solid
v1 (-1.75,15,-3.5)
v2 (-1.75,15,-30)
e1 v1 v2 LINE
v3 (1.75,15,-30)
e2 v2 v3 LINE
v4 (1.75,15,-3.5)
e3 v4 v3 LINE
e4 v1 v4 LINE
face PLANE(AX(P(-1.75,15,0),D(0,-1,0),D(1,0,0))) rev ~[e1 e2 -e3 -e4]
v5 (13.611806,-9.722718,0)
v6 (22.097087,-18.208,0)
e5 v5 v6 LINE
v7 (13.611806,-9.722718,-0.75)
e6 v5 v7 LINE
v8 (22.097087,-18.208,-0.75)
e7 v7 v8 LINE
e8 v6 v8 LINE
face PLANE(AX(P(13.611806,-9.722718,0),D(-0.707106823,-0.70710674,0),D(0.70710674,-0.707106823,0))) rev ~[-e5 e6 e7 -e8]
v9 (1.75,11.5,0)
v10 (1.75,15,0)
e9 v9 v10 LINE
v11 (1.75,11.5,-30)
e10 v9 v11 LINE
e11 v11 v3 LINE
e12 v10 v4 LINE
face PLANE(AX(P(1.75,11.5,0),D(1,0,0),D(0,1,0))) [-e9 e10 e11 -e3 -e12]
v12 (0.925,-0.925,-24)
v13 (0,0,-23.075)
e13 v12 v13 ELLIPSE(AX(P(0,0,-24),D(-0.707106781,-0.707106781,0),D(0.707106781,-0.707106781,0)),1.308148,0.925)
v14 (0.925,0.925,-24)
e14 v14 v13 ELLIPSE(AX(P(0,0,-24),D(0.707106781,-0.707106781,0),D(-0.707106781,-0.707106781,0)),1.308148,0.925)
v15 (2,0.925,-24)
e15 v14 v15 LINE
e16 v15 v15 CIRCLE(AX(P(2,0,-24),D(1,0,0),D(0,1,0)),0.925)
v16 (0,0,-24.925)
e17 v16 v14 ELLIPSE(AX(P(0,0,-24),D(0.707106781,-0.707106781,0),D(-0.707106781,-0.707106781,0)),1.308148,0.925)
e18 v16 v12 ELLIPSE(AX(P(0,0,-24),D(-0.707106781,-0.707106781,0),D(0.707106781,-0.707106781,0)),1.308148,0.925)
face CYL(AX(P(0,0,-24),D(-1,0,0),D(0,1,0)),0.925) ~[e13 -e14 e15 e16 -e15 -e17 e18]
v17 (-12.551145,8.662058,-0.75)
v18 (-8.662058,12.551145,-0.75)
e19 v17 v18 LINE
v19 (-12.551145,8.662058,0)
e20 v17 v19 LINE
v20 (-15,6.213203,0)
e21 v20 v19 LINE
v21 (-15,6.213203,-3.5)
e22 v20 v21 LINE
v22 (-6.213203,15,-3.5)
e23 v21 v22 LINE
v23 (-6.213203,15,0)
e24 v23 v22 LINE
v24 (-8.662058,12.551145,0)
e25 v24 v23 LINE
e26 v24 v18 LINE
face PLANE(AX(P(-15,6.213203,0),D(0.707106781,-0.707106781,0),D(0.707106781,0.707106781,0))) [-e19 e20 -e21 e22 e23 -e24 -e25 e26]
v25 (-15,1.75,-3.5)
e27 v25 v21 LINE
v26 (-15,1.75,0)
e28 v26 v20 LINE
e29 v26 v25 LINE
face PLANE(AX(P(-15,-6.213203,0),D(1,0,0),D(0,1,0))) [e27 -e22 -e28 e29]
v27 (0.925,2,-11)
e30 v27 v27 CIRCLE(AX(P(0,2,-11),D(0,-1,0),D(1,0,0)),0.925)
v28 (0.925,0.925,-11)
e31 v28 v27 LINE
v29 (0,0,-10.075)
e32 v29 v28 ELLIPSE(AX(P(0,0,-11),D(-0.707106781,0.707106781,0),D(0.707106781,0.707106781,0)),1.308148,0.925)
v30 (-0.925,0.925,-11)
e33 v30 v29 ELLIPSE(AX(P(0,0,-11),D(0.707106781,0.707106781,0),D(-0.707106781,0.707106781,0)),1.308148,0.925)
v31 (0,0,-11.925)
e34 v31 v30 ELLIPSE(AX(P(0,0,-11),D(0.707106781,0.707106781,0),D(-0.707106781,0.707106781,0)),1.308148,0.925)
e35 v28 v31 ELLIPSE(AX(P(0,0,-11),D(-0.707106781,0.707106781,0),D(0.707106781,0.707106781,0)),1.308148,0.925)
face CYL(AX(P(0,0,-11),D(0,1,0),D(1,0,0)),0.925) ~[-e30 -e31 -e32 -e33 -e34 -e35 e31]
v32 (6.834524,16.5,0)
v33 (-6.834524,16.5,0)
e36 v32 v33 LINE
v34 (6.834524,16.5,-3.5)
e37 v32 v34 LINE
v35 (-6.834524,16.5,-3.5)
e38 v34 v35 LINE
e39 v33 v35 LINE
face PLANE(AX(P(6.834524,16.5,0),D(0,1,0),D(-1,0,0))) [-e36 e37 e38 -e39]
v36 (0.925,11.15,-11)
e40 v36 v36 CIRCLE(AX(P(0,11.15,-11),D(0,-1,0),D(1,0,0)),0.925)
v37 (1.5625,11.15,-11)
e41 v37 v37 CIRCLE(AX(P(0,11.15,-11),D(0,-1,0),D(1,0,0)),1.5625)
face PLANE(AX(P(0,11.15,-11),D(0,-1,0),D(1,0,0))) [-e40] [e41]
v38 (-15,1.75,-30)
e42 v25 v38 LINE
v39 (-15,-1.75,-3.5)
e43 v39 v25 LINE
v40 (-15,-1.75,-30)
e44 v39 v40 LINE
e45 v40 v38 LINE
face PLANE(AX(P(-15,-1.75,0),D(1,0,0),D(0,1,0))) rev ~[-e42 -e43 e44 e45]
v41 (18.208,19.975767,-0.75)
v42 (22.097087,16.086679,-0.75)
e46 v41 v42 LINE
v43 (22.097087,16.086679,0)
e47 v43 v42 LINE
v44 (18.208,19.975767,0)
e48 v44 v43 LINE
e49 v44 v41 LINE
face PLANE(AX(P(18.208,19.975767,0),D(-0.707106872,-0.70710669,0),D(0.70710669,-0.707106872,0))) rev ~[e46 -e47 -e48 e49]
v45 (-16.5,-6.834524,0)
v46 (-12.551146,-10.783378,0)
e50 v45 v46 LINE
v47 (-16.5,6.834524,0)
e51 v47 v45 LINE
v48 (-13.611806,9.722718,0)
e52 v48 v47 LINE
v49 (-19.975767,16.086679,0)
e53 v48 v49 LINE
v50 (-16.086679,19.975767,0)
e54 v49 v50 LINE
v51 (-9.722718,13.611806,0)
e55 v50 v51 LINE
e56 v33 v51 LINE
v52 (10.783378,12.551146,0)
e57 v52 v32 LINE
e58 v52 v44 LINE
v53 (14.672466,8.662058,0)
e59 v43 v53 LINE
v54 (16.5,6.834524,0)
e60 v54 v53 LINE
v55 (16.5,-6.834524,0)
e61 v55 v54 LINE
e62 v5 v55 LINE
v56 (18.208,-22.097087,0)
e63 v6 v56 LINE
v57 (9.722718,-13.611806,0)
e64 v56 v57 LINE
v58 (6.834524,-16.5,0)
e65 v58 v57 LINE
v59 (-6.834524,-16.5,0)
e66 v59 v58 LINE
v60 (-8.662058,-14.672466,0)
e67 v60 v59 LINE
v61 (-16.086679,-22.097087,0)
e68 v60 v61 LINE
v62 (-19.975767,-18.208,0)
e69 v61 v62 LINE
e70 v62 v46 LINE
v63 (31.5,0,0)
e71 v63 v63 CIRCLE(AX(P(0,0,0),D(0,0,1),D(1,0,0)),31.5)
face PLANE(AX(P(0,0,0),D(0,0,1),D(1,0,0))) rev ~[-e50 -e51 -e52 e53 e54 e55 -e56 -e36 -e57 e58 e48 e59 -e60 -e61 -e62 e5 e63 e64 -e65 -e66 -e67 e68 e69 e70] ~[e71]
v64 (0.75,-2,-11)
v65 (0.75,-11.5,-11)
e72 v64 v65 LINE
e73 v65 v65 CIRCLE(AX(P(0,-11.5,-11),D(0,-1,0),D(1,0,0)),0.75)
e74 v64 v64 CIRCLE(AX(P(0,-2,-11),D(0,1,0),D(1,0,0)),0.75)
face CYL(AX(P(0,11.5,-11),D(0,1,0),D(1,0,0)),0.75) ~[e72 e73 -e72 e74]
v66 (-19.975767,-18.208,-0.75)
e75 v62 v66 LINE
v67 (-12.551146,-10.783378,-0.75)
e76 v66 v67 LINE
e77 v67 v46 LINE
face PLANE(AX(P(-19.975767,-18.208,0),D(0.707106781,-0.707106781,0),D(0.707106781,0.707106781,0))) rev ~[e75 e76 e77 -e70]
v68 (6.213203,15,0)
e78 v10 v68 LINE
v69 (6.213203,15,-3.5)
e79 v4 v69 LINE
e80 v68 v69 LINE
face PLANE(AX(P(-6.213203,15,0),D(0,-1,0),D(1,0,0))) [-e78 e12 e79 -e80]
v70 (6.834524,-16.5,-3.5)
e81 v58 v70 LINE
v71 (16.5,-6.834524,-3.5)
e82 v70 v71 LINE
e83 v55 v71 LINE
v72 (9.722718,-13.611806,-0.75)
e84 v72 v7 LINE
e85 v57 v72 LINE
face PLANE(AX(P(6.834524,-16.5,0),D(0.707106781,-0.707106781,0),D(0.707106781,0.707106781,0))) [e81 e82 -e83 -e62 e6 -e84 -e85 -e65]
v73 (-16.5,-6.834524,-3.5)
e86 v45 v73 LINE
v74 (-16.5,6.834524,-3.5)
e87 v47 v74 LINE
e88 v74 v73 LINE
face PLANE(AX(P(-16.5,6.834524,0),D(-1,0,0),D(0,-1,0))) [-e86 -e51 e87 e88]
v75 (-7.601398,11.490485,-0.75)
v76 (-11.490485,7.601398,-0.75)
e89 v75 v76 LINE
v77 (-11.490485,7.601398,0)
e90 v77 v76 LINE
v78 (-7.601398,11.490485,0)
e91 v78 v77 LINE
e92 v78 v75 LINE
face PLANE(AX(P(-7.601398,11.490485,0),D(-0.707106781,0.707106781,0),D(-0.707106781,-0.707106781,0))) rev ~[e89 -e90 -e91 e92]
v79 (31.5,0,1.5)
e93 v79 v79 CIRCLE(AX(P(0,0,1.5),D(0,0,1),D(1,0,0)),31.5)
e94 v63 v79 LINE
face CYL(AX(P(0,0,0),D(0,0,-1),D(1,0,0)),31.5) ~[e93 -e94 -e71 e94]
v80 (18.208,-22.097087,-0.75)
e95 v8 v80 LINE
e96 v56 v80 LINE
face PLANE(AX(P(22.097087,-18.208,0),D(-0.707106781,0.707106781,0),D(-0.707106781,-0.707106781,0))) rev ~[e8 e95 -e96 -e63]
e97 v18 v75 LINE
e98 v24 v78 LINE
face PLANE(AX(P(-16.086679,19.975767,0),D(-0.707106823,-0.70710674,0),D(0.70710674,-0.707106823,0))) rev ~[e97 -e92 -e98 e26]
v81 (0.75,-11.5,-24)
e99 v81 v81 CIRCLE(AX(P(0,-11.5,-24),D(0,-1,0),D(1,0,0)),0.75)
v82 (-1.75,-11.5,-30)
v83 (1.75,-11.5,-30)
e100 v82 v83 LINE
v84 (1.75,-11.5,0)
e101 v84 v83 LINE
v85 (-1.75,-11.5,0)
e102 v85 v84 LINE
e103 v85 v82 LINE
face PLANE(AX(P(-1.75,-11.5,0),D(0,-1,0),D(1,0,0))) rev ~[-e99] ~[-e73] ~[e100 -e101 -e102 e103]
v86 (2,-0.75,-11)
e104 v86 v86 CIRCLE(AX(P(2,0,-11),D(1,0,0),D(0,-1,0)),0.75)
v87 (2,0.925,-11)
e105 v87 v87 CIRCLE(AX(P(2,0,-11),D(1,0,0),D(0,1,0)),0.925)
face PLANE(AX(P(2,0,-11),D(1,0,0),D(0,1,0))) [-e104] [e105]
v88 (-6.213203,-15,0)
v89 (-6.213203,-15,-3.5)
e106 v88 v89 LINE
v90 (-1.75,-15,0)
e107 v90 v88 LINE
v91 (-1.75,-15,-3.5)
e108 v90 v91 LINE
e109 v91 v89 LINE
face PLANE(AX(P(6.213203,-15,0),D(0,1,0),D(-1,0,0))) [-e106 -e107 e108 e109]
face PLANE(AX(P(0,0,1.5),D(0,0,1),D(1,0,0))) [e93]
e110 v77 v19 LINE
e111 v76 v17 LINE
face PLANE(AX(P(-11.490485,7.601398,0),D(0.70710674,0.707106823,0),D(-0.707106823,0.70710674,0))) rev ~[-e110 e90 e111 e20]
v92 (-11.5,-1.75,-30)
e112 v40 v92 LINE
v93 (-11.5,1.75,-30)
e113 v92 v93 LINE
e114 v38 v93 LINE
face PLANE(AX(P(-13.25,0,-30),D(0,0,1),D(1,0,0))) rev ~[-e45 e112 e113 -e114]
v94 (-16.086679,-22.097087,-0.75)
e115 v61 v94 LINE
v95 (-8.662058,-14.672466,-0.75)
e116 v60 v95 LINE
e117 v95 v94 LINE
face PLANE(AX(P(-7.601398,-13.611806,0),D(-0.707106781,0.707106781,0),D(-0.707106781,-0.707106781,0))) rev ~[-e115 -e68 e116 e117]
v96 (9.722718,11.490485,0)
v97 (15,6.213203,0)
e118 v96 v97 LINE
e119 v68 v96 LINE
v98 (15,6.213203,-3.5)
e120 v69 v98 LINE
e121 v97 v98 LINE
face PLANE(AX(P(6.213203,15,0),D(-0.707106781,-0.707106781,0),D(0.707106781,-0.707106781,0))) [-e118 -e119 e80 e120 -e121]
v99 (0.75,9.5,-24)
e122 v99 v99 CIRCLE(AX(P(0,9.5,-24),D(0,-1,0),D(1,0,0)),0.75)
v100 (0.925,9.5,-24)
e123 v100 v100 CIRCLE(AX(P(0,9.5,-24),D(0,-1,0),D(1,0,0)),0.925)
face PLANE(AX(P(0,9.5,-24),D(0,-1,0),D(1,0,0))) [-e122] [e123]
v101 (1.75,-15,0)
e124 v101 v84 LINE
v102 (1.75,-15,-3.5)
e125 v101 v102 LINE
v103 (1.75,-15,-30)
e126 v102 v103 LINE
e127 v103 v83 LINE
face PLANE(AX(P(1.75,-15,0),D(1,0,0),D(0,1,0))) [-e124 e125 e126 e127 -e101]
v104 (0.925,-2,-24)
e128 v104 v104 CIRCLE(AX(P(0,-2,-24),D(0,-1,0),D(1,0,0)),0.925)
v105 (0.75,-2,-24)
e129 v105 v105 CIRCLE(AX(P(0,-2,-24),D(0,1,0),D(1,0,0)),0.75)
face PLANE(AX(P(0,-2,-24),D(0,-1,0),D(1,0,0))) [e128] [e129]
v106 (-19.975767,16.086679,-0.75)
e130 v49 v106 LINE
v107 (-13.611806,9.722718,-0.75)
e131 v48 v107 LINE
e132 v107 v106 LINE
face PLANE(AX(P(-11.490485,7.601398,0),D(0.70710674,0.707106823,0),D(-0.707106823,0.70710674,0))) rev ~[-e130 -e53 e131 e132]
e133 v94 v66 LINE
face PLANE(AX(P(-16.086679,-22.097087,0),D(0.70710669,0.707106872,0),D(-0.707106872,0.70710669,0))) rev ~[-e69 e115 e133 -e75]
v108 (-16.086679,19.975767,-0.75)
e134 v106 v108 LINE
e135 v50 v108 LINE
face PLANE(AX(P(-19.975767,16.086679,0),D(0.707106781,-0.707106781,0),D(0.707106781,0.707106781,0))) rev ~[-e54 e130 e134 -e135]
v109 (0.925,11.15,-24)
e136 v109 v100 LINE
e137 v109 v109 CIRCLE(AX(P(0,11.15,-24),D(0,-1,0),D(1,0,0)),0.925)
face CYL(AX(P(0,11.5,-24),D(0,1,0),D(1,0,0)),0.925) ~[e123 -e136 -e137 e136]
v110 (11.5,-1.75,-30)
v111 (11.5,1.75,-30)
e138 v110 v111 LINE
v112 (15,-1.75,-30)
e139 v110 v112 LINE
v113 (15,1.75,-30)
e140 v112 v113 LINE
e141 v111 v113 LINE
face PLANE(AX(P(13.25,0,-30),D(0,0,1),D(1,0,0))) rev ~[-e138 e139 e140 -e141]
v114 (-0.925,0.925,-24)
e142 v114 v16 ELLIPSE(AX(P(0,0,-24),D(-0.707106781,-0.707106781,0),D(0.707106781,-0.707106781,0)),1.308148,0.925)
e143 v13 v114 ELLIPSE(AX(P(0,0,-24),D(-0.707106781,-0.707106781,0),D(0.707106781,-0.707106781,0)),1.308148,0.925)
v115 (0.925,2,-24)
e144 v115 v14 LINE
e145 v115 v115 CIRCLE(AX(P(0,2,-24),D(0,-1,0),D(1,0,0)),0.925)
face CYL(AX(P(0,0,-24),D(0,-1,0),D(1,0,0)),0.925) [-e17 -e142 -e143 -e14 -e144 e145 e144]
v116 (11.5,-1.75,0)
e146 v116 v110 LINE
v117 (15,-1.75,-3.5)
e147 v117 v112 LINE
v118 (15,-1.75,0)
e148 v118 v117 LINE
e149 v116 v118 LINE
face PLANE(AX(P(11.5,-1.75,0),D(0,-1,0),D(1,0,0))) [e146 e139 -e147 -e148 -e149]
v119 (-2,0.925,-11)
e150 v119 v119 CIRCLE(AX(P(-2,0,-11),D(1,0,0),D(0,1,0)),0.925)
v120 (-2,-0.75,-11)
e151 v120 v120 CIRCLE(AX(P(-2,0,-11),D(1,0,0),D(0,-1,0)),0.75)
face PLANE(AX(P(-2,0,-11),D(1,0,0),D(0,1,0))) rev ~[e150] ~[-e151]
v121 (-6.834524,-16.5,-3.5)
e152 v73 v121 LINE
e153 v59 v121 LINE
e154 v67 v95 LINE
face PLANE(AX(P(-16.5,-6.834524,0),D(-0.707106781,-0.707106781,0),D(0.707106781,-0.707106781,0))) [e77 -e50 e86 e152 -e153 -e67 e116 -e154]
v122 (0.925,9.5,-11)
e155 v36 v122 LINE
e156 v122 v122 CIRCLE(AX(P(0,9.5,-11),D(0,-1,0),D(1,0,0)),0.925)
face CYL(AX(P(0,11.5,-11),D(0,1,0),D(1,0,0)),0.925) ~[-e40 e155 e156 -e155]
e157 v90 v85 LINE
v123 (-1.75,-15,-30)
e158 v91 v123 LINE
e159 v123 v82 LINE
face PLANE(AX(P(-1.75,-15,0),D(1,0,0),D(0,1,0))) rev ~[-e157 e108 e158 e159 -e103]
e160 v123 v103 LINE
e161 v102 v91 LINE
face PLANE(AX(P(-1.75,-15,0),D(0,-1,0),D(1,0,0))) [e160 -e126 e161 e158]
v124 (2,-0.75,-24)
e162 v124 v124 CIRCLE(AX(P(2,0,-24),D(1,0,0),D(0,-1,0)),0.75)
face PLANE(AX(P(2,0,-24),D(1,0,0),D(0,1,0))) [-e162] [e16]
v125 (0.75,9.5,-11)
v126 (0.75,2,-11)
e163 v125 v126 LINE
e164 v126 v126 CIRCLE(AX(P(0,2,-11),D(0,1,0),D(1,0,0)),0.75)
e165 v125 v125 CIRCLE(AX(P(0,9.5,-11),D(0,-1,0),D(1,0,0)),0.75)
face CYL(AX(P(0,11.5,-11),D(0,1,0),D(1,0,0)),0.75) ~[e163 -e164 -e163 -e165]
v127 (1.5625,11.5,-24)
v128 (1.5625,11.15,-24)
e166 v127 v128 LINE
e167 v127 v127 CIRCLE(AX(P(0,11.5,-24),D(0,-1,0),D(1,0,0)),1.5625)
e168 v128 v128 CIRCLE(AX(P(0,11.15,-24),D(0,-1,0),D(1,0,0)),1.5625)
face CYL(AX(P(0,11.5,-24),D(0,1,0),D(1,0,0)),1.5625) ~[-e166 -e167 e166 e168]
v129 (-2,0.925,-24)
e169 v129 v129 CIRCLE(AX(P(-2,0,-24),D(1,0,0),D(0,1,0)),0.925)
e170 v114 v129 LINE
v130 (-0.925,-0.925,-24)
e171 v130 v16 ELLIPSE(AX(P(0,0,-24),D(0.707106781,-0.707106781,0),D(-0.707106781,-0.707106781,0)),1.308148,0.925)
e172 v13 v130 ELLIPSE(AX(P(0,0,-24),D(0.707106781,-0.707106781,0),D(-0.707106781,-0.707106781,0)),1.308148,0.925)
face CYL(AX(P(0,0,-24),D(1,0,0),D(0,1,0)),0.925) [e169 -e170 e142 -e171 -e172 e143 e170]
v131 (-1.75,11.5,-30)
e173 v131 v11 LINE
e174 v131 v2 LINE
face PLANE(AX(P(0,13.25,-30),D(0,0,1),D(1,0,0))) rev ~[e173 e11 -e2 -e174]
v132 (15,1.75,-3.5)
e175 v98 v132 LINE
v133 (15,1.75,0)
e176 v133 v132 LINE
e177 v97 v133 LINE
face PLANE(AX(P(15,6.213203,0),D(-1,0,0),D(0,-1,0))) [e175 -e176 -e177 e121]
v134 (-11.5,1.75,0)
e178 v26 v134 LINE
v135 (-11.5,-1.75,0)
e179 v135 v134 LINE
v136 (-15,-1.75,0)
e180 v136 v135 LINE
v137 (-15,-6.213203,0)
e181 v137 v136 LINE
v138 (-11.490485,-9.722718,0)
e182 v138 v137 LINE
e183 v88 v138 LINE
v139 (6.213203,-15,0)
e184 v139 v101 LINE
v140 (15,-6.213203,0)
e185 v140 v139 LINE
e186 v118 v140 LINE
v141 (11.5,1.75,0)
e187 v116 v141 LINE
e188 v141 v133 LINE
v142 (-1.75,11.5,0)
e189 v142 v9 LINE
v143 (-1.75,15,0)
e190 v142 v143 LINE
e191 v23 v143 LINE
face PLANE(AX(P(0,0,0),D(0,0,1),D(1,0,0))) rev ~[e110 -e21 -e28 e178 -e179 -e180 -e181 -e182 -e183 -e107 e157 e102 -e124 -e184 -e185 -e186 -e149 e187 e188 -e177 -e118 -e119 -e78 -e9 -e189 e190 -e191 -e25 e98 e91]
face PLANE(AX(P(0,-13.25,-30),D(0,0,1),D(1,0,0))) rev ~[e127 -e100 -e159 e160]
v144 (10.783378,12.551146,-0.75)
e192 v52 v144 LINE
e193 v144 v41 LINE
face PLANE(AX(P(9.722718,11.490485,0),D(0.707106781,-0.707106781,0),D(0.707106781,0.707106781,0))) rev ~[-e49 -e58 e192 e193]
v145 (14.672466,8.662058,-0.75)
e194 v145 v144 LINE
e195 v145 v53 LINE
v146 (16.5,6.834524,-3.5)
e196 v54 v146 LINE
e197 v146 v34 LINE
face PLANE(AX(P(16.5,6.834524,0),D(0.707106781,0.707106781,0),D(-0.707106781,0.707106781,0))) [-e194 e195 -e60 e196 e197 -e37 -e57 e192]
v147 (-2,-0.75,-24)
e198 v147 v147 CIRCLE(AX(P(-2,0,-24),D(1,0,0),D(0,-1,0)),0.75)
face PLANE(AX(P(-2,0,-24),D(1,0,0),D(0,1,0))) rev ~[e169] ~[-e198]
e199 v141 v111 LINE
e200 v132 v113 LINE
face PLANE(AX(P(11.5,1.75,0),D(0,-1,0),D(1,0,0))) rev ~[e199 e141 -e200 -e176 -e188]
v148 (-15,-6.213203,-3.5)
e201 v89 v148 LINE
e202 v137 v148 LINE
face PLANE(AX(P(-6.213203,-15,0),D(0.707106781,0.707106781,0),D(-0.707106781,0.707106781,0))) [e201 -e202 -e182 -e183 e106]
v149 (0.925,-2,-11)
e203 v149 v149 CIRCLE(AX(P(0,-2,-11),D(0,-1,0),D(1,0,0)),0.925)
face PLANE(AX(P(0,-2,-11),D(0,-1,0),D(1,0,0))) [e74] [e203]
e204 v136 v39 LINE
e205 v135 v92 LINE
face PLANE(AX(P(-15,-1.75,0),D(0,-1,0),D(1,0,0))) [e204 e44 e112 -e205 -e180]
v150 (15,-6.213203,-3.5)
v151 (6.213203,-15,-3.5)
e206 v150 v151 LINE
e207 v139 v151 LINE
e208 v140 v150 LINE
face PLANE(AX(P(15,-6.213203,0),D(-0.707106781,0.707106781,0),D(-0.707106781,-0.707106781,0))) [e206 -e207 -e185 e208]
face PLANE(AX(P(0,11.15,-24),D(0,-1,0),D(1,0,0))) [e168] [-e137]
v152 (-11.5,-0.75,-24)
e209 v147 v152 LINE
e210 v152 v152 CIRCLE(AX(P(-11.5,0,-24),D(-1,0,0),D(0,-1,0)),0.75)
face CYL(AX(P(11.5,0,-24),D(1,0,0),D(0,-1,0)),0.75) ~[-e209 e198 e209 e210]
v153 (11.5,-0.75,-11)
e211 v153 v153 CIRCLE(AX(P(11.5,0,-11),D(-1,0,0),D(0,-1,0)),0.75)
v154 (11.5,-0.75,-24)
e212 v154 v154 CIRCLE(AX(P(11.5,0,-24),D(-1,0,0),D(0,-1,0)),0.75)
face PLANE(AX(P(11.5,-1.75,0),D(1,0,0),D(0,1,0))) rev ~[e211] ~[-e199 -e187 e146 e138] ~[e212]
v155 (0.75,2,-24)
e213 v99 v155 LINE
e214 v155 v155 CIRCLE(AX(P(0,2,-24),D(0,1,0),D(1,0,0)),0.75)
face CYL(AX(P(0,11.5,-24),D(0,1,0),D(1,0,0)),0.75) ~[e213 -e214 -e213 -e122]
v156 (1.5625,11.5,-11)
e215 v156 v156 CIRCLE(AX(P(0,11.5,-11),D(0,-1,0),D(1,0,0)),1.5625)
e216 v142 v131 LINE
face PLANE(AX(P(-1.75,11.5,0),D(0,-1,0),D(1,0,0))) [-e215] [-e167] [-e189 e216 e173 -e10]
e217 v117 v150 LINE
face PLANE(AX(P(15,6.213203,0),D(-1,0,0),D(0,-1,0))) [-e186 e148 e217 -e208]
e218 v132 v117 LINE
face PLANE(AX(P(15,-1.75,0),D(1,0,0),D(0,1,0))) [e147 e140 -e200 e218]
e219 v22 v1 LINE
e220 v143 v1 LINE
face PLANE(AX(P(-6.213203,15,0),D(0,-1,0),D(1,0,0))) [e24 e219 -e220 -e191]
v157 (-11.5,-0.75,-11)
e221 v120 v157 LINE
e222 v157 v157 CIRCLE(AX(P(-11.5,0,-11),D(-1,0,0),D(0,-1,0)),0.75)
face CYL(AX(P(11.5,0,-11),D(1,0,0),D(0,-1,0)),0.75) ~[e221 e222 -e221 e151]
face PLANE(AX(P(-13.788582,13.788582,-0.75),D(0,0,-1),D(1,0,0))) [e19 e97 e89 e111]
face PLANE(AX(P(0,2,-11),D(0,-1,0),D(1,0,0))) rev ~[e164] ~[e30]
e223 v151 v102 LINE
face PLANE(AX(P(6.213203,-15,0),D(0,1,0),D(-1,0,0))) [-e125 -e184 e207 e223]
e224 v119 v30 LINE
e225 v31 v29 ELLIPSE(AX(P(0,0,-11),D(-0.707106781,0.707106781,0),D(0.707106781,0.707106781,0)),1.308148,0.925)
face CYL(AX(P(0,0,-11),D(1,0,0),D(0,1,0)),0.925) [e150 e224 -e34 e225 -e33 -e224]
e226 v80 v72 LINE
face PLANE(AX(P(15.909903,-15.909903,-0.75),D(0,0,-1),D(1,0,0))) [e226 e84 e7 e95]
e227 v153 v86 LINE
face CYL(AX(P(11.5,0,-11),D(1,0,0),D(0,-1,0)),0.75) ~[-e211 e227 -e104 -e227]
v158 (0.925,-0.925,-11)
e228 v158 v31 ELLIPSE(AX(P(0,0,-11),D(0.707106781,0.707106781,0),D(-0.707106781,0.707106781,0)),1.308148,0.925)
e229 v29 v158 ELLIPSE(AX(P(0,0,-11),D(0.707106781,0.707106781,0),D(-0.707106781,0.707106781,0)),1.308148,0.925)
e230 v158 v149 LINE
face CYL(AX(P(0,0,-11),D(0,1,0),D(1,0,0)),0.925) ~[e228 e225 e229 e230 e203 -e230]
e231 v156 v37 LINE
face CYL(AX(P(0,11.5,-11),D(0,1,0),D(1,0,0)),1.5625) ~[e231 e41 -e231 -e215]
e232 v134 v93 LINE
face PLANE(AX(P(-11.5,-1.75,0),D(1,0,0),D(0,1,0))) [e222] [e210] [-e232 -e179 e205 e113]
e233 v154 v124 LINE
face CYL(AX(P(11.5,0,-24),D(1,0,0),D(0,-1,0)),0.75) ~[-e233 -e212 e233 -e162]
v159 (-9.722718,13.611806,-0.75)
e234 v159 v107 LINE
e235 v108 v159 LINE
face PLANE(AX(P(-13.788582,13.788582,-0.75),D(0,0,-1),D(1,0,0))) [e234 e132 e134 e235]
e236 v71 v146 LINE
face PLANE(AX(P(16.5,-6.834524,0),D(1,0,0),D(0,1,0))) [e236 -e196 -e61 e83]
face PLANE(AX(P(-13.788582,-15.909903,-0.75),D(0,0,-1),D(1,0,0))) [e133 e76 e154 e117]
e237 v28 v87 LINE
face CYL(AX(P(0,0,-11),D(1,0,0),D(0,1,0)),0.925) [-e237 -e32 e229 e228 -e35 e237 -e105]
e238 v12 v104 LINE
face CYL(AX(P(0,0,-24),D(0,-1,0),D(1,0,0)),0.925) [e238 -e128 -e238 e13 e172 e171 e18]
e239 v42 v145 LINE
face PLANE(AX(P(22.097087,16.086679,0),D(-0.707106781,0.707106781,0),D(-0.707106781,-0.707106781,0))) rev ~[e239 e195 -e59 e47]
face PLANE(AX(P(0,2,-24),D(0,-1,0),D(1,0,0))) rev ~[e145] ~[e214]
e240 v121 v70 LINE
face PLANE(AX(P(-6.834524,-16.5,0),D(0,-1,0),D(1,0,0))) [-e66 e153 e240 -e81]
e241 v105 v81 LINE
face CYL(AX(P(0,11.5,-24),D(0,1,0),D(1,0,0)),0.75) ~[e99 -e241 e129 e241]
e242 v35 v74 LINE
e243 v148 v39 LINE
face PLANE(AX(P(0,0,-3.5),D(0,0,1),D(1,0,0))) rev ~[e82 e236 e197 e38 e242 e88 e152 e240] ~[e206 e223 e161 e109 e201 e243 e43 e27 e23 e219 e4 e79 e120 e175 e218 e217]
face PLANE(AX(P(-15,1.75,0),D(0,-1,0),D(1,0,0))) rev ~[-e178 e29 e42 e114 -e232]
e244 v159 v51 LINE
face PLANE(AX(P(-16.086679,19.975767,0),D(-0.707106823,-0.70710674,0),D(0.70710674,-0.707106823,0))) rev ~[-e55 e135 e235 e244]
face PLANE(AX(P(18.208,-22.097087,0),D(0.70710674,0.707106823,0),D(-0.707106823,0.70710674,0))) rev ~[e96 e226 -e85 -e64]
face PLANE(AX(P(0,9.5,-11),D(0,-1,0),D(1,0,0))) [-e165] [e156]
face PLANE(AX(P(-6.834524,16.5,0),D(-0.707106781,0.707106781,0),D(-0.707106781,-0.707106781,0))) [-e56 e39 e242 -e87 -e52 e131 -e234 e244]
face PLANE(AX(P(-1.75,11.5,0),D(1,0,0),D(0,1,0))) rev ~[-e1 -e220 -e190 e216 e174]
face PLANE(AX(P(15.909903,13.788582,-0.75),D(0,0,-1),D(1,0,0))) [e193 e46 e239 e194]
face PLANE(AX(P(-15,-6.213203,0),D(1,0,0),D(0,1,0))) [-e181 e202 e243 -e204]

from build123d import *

# Parameters (mm, degrees)
F0_R      = 31.5
F1_DEPTH  = 1.5
F3_DEPTH  = 3.5
F4_W      = 3.5
F4_H      = 3.5
F5_DEPTH  = 30
F6_R      = 0.75
F7_DEPTH  = 23
F8_R      = 0.75
F9_DEPTH  = 23
F10_R     = 0.925
F11_DEPTH = 2
F12_R     = 0.925
F13_DEPTH = 2
F6_R_2    = 0.925
F14_DEPTH = 2
F6_R_3    = 1.5625
F15_DEPTH = 0.35
F17_DEPTH = 0.75


with BuildPart() as f1:
    # F0 (on Top) → F1 (new body)
    with BuildSketch(Plane.XY):
        Circle(F0_R)
    extrude(amount=F1_DEPTH)

    # F2 (on Top) → F3 (join)
    with BuildSketch(Plane.XY):
        Polygon((-6.834524, 16.5), (-16.5, 6.834524), (-16.5, -6.834524), (-6.834524, -16.5), (6.834524, -16.5), (16.5, -6.834524), (16.5, 6.834524), (6.834524, 16.5), align=None)
        Polygon((6.213203, -15), (-6.213203, -15), (-15, -6.213203), (-15, 6.213203), (-6.213203, 15), (6.213203, 15), (15, 6.213203), (15, -6.213203), align=None, mode=Mode.SUBTRACT)
    extrude(amount=-F3_DEPTH)

    # F4 (on Top) → F5 (join)
    with BuildSketch(Plane.XY):
        with Locations((0, -13.25)):
            Rectangle(F4_W, F4_H)
        with Locations((13.25, 0)):
            Rectangle(F4_W, F4_H)
        with Locations((0, 13.25)):
            Rectangle(F4_W, F4_H)
        with Locations((-13.25, 0)):
            Rectangle(F4_W, F4_H)
    extrude(amount=-F5_DEPTH)

    # F6 (on face) → F7 (join, through all)
    with BuildSketch(Plane.XZ.offset(-11.5)):
        with Locations((0, -11)):
            Circle(F6_R)
        with Locations((0, -24)):
            Circle(F6_R)
    extrude(amount=F7_DEPTH)

    # F8 (on face) → F9 (join, through all)
    with BuildSketch(Plane(origin=(11.5, 0, 0), x_dir=(0, -1, 0), z_dir=(-1, 0, 0))):
        with Locations((0, -24)):
            Circle(F8_R)
        with Locations((0, -11)):
            Circle(F8_R)
    extrude(amount=F9_DEPTH)

    # F10 (on Front) → F11 (join, symmetric)
    with BuildSketch(Plane.XZ):
        with Locations((0, -11)):
            Circle(F10_R)
        with Locations((0, -24)):
            Circle(F10_R)
    extrude(amount=F11_DEPTH, both=True)

    # F12 (on Right) → F13 (join, symmetric)
    with BuildSketch(Plane.YZ):
        with Locations((0, -24)):
            Circle(F12_R)
        with Locations((0, -11)):
            Circle(F12_R)
    extrude(amount=F13_DEPTH, both=True)

    # F6 (on face) → F14 (join)
    with BuildSketch(Plane.XZ.offset(-11.5)):
        with Locations((0, -24)):
            Circle(F6_R_2)
        with Locations((0, -24)):
            Circle(F6_R, mode=Mode.SUBTRACT)
        with Locations((0, -11)):
            Circle(F6_R_2)
        with Locations((0, -11)):
            Circle(F6_R, mode=Mode.SUBTRACT)
    extrude(amount=F14_DEPTH)

    # F6 (on face) → F15 (join)
    with BuildSketch(Plane.XZ.offset(-11.5)):
        with Locations((0, -24)):
            Circle(F6_R_3)
        with Locations((0, -24)):
            Circle(F6_R_2, mode=Mode.SUBTRACT)
        with Locations((0, -11)):
            Circle(F6_R_3)
        with Locations((0, -11)):
            Circle(F6_R_2, mode=Mode.SUBTRACT)
    extrude(amount=F15_DEPTH)

    # F16 (on face) → F17 (join)
    with BuildSketch(Plane(origin=(0, 0, 0), x_dir=(1, 0, 0), z_dir=(0, 0, -1))):
        Polygon((9.722718, 13.611806), (13.611806, 9.722718), (22.097087, 18.208), (18.208, 22.097087), align=None)
        Polygon((-19.975767, 18.208), (-11.490485, 9.722718), (-7.601398, 13.611806), (-16.086679, 22.097087), align=None)
        Polygon((-16.086679, -19.975767), (-7.601398, -11.490485), (-11.490485, -7.601398), (-19.975767, -16.086679), align=None)
        Polygon((22.097087, -16.086679), (13.611806, -7.601398), (9.722718, -11.490485), (18.208, -19.975767), align=None)
    extrude(amount=F17_DEPTH)


solid = f1.part
